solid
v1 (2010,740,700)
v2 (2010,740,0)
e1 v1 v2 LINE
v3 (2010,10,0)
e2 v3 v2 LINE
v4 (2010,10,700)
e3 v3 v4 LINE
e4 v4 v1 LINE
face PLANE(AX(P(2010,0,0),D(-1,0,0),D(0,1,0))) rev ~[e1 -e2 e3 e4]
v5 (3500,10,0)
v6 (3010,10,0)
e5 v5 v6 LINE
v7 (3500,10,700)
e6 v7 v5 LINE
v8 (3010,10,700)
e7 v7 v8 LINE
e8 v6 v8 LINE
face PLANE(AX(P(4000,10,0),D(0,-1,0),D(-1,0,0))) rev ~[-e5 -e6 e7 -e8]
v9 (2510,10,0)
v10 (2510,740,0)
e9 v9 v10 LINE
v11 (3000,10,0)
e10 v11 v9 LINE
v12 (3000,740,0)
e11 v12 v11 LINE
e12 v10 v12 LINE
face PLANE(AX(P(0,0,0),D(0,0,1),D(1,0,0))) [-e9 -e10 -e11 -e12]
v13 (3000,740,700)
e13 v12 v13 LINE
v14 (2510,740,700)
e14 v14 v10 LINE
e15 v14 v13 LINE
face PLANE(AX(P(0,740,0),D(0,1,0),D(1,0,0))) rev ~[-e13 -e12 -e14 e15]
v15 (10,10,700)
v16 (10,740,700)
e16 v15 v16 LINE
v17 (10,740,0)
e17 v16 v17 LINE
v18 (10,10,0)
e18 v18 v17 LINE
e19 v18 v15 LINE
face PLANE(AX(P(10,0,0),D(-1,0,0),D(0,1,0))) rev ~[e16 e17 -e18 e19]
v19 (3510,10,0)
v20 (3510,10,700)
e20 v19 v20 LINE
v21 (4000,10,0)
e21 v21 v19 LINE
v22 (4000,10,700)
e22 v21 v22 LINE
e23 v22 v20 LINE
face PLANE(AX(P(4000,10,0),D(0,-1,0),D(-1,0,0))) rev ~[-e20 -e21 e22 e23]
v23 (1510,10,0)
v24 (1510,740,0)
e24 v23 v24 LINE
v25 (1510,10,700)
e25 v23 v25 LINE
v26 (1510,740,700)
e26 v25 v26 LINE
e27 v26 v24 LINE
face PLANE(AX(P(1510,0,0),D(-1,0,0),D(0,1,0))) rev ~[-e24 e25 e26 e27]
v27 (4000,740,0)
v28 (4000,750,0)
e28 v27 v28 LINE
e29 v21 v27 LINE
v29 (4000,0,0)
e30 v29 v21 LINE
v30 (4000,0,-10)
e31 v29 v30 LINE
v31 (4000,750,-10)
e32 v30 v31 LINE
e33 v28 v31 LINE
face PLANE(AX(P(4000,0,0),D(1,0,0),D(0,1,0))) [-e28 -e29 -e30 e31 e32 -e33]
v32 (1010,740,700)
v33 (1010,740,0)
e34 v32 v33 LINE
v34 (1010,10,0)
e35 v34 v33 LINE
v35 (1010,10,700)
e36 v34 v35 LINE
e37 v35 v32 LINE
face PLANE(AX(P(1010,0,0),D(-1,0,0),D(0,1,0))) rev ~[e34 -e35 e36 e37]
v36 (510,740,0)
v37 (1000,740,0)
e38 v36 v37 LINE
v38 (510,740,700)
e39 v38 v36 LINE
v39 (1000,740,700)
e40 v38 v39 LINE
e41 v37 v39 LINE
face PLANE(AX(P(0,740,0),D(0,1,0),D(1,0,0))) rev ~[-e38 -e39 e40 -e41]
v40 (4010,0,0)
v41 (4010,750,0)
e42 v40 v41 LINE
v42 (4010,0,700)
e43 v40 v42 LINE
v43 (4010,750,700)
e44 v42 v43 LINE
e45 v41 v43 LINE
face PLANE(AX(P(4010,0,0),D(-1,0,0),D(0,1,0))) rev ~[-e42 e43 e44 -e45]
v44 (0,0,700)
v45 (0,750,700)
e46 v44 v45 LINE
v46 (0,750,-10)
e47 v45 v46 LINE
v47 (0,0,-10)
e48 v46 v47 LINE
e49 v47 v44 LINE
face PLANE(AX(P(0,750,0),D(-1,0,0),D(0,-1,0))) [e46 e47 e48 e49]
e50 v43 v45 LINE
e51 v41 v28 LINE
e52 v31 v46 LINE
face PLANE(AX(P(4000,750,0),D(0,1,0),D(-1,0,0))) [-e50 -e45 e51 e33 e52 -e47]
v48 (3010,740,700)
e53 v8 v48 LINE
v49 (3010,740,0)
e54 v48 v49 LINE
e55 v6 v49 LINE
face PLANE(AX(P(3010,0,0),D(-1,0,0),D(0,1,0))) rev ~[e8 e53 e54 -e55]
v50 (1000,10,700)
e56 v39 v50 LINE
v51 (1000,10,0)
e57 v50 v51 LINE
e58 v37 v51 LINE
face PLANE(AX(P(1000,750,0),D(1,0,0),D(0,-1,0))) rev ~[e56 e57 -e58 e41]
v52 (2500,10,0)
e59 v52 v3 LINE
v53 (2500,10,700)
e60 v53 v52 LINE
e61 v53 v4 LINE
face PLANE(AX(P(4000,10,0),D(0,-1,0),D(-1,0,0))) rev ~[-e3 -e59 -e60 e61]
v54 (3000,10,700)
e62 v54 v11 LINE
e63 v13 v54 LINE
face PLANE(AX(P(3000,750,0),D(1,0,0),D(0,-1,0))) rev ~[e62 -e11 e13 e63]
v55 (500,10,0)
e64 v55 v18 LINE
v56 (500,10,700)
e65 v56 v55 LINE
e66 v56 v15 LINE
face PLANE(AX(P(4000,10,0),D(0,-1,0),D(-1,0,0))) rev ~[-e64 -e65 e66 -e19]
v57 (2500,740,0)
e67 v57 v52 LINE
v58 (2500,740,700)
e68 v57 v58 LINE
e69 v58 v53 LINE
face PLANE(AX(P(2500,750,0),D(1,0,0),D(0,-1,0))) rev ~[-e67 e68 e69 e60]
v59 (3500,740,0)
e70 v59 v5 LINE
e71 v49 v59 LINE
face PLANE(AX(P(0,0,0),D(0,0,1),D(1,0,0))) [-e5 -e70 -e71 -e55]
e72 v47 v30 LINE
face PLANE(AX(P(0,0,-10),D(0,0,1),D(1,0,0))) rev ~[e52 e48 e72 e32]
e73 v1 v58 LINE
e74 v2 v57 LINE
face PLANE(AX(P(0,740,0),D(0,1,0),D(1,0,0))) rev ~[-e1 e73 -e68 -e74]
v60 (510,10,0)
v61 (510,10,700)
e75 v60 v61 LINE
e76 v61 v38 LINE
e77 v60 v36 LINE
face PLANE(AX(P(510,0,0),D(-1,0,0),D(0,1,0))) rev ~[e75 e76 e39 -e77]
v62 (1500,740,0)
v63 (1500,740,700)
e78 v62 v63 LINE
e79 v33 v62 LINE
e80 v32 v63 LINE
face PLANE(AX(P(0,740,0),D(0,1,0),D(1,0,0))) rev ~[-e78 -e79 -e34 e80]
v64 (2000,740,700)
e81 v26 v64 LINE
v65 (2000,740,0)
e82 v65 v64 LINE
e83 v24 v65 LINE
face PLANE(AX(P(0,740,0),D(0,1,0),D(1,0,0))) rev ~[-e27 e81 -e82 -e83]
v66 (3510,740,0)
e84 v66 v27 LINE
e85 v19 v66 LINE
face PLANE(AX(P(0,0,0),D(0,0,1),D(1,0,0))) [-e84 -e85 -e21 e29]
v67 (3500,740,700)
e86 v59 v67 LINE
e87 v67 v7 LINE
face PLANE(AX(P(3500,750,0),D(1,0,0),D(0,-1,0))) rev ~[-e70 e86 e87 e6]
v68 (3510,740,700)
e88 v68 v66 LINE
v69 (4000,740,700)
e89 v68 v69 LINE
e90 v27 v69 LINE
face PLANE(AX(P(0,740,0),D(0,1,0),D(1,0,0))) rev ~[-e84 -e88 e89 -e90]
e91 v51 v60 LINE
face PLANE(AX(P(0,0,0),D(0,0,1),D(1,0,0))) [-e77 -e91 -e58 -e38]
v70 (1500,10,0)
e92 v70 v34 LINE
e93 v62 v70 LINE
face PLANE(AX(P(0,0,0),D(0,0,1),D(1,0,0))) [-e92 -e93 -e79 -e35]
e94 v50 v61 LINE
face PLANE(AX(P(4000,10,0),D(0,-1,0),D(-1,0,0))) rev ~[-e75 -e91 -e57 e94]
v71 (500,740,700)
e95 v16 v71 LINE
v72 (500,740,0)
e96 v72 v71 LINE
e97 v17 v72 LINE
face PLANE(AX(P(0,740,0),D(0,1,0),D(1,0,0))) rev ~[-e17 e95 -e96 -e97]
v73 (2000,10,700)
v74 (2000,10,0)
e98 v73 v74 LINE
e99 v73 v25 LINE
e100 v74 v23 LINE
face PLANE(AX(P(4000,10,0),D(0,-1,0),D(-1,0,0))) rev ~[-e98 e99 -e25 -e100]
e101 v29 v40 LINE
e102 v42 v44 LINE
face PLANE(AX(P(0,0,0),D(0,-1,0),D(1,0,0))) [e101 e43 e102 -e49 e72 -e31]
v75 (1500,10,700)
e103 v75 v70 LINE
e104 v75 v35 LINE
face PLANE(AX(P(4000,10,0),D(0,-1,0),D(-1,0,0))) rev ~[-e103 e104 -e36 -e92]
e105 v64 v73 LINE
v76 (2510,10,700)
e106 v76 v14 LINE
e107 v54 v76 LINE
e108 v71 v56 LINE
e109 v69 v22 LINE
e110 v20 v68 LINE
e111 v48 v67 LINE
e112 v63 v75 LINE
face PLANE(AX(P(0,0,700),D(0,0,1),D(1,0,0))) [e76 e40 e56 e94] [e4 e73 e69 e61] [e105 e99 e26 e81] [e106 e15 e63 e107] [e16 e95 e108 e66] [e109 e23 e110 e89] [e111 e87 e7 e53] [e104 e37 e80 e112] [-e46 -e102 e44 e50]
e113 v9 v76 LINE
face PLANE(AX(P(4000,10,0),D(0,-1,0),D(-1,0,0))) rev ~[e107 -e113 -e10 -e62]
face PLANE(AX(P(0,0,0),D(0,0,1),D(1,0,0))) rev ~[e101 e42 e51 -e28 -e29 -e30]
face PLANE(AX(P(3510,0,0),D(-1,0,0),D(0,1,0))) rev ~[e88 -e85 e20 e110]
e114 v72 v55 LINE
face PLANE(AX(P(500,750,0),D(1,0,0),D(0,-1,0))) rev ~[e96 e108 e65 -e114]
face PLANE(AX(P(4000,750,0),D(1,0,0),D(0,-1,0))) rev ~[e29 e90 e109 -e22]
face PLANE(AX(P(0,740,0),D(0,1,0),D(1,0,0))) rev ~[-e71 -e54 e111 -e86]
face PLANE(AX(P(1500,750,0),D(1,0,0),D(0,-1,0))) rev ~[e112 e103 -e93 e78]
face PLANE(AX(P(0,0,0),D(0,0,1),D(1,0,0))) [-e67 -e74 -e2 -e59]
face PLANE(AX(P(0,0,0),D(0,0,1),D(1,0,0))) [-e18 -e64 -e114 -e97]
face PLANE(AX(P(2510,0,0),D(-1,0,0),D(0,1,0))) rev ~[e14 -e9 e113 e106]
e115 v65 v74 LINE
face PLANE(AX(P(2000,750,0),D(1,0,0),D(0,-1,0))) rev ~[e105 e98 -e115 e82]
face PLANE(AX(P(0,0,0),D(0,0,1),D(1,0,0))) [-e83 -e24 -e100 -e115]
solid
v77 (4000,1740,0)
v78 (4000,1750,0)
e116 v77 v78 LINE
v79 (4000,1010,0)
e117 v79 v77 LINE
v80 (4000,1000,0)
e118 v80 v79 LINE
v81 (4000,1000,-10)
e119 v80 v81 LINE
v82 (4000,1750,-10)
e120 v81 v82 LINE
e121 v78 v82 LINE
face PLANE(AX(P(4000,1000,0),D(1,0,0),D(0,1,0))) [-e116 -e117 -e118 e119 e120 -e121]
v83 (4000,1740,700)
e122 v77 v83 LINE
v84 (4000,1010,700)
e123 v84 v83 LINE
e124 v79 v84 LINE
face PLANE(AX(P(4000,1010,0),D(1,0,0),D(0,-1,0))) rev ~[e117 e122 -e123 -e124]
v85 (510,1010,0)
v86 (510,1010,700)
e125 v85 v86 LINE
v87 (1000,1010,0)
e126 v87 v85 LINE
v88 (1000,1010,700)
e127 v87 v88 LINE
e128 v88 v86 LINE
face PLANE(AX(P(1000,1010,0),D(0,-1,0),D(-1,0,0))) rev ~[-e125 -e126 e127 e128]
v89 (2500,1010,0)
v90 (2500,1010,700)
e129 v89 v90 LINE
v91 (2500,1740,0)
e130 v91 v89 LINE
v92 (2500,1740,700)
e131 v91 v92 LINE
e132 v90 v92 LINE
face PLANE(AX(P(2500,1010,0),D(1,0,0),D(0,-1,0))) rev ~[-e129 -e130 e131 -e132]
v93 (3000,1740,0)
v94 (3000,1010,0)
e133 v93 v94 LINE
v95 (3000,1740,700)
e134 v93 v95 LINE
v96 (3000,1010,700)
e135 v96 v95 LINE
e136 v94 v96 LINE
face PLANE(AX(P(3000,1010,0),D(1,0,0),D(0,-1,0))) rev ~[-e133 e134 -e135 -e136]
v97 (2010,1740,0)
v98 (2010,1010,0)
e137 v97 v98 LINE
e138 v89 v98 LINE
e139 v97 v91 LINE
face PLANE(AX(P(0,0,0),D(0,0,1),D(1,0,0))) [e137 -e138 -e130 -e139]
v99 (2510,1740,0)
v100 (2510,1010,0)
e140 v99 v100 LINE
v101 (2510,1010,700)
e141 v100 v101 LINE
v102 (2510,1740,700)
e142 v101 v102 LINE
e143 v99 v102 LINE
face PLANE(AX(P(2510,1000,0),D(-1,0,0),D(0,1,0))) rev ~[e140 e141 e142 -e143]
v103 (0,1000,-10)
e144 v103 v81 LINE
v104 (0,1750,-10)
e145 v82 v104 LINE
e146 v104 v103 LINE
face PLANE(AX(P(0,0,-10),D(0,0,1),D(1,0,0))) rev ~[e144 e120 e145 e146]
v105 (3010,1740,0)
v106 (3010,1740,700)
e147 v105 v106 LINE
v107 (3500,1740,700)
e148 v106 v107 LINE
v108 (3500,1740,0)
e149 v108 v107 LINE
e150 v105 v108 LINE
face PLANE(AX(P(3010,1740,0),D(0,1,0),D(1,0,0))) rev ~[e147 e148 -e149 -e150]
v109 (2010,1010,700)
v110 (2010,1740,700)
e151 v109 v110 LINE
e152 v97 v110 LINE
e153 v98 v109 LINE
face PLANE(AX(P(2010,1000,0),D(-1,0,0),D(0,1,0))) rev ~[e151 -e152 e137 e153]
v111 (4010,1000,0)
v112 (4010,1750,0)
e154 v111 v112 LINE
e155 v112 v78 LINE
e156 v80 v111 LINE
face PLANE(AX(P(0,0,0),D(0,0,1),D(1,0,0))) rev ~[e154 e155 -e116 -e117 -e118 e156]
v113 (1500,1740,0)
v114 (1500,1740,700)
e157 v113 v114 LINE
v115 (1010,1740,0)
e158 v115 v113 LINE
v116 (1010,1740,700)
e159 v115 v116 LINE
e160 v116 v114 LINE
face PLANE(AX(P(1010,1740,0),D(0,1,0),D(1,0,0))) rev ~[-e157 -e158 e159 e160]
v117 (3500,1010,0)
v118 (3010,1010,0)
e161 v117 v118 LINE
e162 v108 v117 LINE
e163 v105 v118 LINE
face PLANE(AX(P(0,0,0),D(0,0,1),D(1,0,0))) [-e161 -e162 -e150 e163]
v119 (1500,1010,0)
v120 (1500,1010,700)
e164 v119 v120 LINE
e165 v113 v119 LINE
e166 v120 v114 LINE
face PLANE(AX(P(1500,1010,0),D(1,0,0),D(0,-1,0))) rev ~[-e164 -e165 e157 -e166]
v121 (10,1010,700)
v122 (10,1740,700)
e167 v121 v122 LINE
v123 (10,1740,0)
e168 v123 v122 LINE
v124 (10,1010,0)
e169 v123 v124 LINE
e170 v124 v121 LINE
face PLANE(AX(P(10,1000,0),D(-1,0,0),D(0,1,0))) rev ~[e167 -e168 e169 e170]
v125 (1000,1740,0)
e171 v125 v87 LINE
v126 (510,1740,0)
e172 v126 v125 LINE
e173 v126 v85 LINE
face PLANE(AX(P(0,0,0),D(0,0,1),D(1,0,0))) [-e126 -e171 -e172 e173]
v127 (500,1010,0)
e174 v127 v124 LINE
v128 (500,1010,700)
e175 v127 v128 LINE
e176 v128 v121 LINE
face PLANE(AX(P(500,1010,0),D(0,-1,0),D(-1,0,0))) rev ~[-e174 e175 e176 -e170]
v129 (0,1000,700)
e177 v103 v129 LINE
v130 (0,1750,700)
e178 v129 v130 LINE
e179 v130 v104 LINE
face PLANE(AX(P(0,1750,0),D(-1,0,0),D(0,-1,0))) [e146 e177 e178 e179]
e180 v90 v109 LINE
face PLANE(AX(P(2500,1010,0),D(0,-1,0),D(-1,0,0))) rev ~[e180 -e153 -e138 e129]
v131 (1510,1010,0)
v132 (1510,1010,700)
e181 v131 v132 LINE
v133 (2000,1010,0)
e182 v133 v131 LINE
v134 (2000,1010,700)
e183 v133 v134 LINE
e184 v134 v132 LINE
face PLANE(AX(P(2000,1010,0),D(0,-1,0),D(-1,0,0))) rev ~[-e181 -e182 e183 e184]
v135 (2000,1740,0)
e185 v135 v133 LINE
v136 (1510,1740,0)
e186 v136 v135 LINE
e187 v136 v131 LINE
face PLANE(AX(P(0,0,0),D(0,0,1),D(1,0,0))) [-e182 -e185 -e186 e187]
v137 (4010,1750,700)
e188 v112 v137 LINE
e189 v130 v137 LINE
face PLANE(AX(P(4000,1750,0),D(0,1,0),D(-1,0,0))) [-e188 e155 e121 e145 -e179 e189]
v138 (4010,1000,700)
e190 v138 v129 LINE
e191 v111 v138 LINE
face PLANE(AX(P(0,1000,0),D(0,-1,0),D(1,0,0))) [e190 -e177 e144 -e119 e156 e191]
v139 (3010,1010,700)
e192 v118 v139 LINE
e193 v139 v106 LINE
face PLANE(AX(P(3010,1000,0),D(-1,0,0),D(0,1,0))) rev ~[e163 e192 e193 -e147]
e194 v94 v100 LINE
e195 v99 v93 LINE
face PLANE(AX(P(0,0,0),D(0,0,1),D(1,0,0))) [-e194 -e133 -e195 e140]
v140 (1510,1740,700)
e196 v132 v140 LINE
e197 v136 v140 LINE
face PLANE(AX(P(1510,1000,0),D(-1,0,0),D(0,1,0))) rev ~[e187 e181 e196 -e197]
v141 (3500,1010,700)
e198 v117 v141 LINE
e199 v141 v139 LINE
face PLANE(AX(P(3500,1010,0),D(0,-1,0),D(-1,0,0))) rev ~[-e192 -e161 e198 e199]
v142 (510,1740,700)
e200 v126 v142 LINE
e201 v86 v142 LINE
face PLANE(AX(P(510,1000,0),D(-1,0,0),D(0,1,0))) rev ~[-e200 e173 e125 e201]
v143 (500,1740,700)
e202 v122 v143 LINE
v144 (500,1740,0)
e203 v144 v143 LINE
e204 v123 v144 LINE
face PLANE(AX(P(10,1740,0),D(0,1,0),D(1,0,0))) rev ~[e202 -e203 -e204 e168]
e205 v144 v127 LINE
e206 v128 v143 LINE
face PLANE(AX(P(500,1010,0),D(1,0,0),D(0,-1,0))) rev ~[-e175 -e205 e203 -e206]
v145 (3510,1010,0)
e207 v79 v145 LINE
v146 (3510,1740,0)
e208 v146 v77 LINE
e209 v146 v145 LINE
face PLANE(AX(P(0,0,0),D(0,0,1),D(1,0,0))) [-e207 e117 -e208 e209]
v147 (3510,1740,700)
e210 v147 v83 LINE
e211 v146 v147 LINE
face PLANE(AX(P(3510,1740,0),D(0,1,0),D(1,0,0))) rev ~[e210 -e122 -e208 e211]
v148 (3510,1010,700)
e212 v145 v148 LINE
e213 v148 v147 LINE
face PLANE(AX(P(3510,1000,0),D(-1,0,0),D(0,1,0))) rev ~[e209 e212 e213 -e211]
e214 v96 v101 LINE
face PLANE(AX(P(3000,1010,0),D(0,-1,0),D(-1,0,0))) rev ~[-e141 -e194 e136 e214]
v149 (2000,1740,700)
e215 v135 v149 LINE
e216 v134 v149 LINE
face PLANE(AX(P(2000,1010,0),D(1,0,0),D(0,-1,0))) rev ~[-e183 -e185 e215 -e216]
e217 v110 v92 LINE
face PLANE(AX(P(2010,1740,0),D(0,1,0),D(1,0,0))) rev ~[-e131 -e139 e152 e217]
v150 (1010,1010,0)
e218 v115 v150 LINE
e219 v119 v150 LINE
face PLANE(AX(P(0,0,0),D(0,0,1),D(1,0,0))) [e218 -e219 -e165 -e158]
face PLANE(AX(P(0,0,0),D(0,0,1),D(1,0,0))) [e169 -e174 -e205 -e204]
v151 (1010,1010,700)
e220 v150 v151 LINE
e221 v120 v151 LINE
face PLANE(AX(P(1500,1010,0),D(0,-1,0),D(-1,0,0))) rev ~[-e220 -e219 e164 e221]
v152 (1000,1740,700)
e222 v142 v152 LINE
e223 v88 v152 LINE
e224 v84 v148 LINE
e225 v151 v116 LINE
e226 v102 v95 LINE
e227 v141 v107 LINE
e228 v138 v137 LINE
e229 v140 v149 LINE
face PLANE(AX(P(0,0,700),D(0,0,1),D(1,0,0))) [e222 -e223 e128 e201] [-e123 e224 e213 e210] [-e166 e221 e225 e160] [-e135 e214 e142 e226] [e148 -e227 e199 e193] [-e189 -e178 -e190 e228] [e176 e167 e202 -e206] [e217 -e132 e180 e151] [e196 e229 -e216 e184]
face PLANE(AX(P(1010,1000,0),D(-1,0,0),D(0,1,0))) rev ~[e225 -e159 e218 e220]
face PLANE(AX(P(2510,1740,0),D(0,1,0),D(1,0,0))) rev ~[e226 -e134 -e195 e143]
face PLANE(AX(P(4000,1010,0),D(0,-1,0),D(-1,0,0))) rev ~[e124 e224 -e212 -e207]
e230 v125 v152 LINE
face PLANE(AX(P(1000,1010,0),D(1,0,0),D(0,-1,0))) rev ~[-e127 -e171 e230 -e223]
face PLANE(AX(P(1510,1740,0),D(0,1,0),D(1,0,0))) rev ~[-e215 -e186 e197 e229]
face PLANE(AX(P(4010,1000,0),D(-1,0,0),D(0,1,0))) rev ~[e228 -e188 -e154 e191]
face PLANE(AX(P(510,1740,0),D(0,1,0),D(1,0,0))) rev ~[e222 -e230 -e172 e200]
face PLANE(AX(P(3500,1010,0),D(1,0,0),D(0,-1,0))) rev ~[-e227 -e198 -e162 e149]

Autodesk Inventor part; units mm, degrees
ref_plane "YZ Plane" through (0, 0, 0) normal (1, 0, 0) x (0, 1, 0)
ref_plane "XZ Plane" through (0, 0, 0) normal (0, 1, 0) x (-1, 0, 0)
ref_plane "XY Plane" through (0, 0, 0) normal (0, 0, 1) x (1, 0, 0)
sketch "Boceto1" plane through (0, 0, 0) normal (0, 0, 1) x (1, 0, 0)
  line L0 (0, 0) -> (4000, 0)
  line L1 (4000, 0) -> (4000, 750)
  line L2 (4000, 750) -> (0, 750)
  line L3 (0, 750) -> (0, 0)
extrude "Extrusión1" add sketch "Boceto1" against normal blind 10
sketch "Boceto2" plane through (0, 0, 0) normal (0, 0, 1) x (1, 0, 0)
  line L0 (0, 0) -> (10, 0)
  line L1 (10, 0) -> (10, 750)
  line L2 (10, 750) -> (0, 750)
  line L3 (0, 750) -> (0, 0)
  line L4 (500, 0) -> (510, 0)
  line L5 (510, 0) -> (510, 750)
  line L6 (510, 750) -> (500, 750)
  line L7 (500, 750) -> (500, 0)
  line L8 (1000, 0) -> (1010, 0)
  line L9 (1010, 0) -> (1010, 750)
  line L10 (1010, 750) -> (1000, 750)
  line L11 (1000, 750) -> (1000, 0)
  line L12 (1500, 0) -> (1510, 0)
  line L13 (1510, 0) -> (1510, 750)
  line L14 (1510, 750) -> (1500, 750)
  line L15 (1500, 750) -> (1500, 0)
  line L16 (2000, 0) -> (2010, 0)
  line L17 (2010, 0) -> (2010, 750)
  line L18 (2010, 750) -> (2000, 750)
  line L19 (2000, 750) -> (2000, 0)
  line L20 (2500, 0) -> (2510, 0)
  line L21 (2510, 0) -> (2510, 750)
  line L22 (2510, 750) -> (2500, 750)
  line L23 (2500, 750) -> (2500, 0)
  line L24 (3000, 0) -> (3010, 0)
  line L25 (3010, 0) -> (3010, 750)
  line L26 (3010, 750) -> (3000, 750)
  line L27 (3000, 750) -> (3000, 0)
  line L28 (3500, 0) -> (3510, 0)
  line L29 (3510, 0) -> (3510, 750)
  line L30 (3510, 750) -> (3500, 750)
  line L31 (3500, 750) -> (3500, 0)
  line L32 (4000, 0) -> (4010, 0)
  line L33 (4010, 0) -> (4010, 750)
  line L34 (4010, 750) -> (4000, 750)
  line L35 (4000, 750) -> (4000, 0)
extrude "Extrusión2" add sketch "Boceto2" along normal blind 700 contours L3 L2 L1 L0
extrude "Extrusión3" add sketch "Boceto2" along normal blind 700 contours L3 L2 L1 L0 | L7 L6 L5 L4
extrude "Extrusión4" add sketch "Boceto2" along normal blind 700 contours L3 L2 L1 L0 | L7 L6 L5 L4 | L11 L10 L9 L8
extrude "Extrusión5" add sketch "Boceto2" along normal blind 700 contours L3 L2 L1 L0 | L7 L6 L5 L4 | L11 L10 L9 L8 | L15 L14 L13 L12
extrude "Extrusión6" add sketch "Boceto2" along normal blind 700 contours L3 L2 L1 L0 | L7 L6 L5 L4 | L11 L10 L9 L8 | L15 L14 L13 L12 | L19 L18 L17 L16
extrude "Extrusión7" add sketch "Boceto2" along normal blind 700 contours L3 L2 L1 L0 | L7 L6 L5 L4 | L11 L10 L9 L8 | L15 L14 L13 L12 | L19 L18 L17 L16 | L23 L22 L21 L20
extrude "Extrusión8" add sketch "Boceto2" along normal blind 700 contours L3 L2 L1 L0 | L7 L6 L5 L4 | L11 L10 L9 L8 | L15 L14 L13 L12 | L19 L18 L17 L16 | L23 L22 L21 L20 | L27 L26 L25 L24
extrude "Extrusión9" add sketch "Boceto2" along normal blind 700 contours L3 L2 L1 L0 | L7 L6 L5 L4 | L11 L10 L9 L8 | L15 L14 L13 L12 | L19 L18 L17 L16 | L23 L22 L21 L20 | L27 L26 L25 L24 | L31 L30 L29 L28
extrude "Extrusión10" add sketch "Boceto2" along normal blind 700
sketch "Boceto3" plane through (0, 0, 0) normal (0, 0, 1) x (1, 0, 0)
  line L0 (0, 0) -> (4000, 0)
  line L1 (4000, 0) -> (4000, 10)
  line L2 (4000, 10) -> (0, 10)
  line L3 (0, 10) -> (0, 0)
  line L4 (0, 740) -> (4000, 740)
  line L5 (4000, 740) -> (4000, 750)
  line L6 (4000, 750) -> (0, 750)
  line L7 (0, 750) -> (0, 740)
extrude "Extrusión11" add sketch "Boceto3" along normal blind 700 contours L3 L2 L1 L0
extrude "Extrusión12" add sketch "Boceto3" along normal blind 700
sketch "Boceto4" plane through (0, 0, 0) normal (0, 0, 1) x (1, 0, 0)
  line L0 (0, 1000) -> (4000, 1000)
  line L1 (4000, 1000) -> (4000, 1750)
  line L2 (4000, 1750) -> (0, 1750)
  line L3 (0, 1750) -> (0, 1000)
extrude "Extrusión13" add sketch "Boceto4" against normal blind 10
sketch "Boceto5" plane through (0, 0, 0) normal (0, 0, 1) x (1, 0, 0)
  line L0 (0, 1000) -> (10, 1000)
  line L1 (10, 1000) -> (10, 1750)
  line L2 (10, 1750) -> (0, 1750)
  line L3 (0, 1750) -> (0, 1000)
  line L4 (500, 1000) -> (510, 1000)
  line L5 (510, 1000) -> (510, 1750)
  line L6 (510, 1750) -> (500, 1750)
  line L7 (500, 1750) -> (500, 1000)
  line L8 (1000, 1000) -> (1010, 1000)
  line L9 (1010, 1000) -> (1010, 1750)
  line L10 (1010, 1750) -> (1000, 1750)
  line L11 (1000, 1750) -> (1000, 1000)
  line L12 (1500, 1000) -> (1510, 1000)
  line L13 (1510, 1000) -> (1510, 1750)
  line L14 (1510, 1750) -> (1500, 1750)
  line L15 (1500, 1750) -> (1500, 1000)
  line L16 (2000, 1000) -> (2010, 1000)
  line L17 (2010, 1000) -> (2010, 1750)
  line L18 (2010, 1750) -> (2000, 1750)
  line L19 (2000, 1750) -> (2000, 1000)
  line L20 (2500, 1000) -> (2510, 1000)
  line L21 (2510, 1000) -> (2510, 1750)
  line L22 (2510, 1750) -> (2500, 1750)
  line L23 (2500, 1750) -> (2500, 1000)
  line L24 (3000, 1000) -> (3010, 1000)
  line L25 (3010, 1000) -> (3010, 1750)
  line L26 (3010, 1750) -> (3000, 1750)
  line L27 (3000, 1750) -> (3000, 1000)
  line L28 (3500, 1000) -> (3510, 1000)
  line L29 (3510, 1000) -> (3510, 1750)
  line L30 (3510, 1750) -> (3500, 1750)
  line L31 (3500, 1750) -> (3500, 1000)
  line L32 (4000, 1000) -> (4010, 1000)
  line L33 (4010, 1000) -> (4010, 1750)
  line L34 (4010, 1750) -> (4000, 1750)
  line L35 (4000, 1750) -> (4000, 1000)
  line L36 (0, 1000) -> (4000, 1000)
  line L37 (4000, 1000) -> (4000, 1010)
  line L38 (4000, 1010) -> (0, 1010)
  line L39 (0, 1010) -> (0, 1000)
  line L40 (0, 1740) -> (4000, 1740)
  line L41 (4000, 1740) -> (4000, 1750)
  line L42 (4000, 1750) -> (0, 1750)
  line L43 (0, 1750) -> (0, 1740)
extrude "Extrusión14" add sketch "Boceto5" along normal blind 700 contours L3 L38 L1 L0 | L3 L40 L1 L38 | L3 L2 L1 L40
extrude "Extrusión15" add sketch "Boceto5" along normal blind 700 contours L3 L38 L1 L0 | L3 L40 L1 L38 | L7 L38 L5 L4 | L3 L2 L1 L40 | L7 L40 L5 L38 | L7 L6 L5 L40
extrude "Extrusión16" add sketch "Boceto5" along normal blind 700 contours L3 L38 L1 L0 | L3 L40 L1 L38 | L7 L38 L5 L4 | L3 L2 L1 L40 | L7 L40 L5 L38 | L7 L6 L5 L40 | L11 L38 L9 L8 | L11 L40 L9 L38 | L11 L10 L9 L40
extrude "Extrusión17" add sketch "Boceto5" along normal blind 700 contours L3 L38 L1 L0 | L3 L40 L1 L38 | L7 L38 L5 L4 | L3 L2 L1 L40 | L7 L40 L5 L38 | L7 L6 L5 L40 | L11 L38 L9 L8 | L11 L40 L9 L38 | L11 L10 L9 L40 | L15 L38 L13 L12 | L15 L40 L13 L38 | L15 L14 L13 L40
extrude "Extrusión18" add sketch "Boceto5" along normal blind 700 contours L3 L38 L1 L0 | L3 L40 L1 L38 | L7 L38 L5 L4 | L3 L2 L1 L40 | L7 L40 L5 L38 | L7 L6 L5 L40 | L11 L38 L9 L8 | L11 L40 L9 L38 | L11 L10 L9 L40 | L15 L38 L13 L12 | L15 L40 L13 L38 | L15 L14 L13 L40 | L19 L38 L17 L16 | L19 L40 L17 L38 | L19 L18 L17 L40
extrude "Extrusión19" add sketch "Boceto5" along normal blind 700 contours L3 L38 L1 L0 | L3 L40 L1 L38 | L7 L38 L5 L4 | L3 L2 L1 L40 | L7 L40 L5 L38 | L7 L6 L5 L40 | L11 L38 L9 L8 | L11 L40 L9 L38 | L11 L10 L9 L40 | L15 L38 L13 L12 | L15 L40 L13 L38 | L15 L14 L13 L40 | L19 L38 L17 L16 | L19 L40 L17 L38 | L19 L18 L17 L40 | L23 L38 L21 L20 | L23 L40 L21 L38 | L23 L22 L21 L40
extrude "Extrusión20" add sketch "Boceto5" along normal blind 700 contours L3 L38 L1 L0 | L3 L40 L1 L38 | L7 L38 L5 L4 | L3 L2 L1 L40 | L7 L40 L5 L38 | L7 L6 L5 L40 | L11 L38 L9 L8 | L11 L40 L9 L38 | L11 L10 L9 L40 | L15 L38 L13 L12 | L15 L40 L13 L38 | L15 L14 L13 L40 | L19 L38 L17 L16 | L19 L40 L17 L38 | L19 L18 L17 L40 | L23 L38 L21 L20 | L23 L40 L21 L38 | L23 L22 L21 L40 | L27 L38 L25 L24 | L27 L40 L25 L38 | L27 L26 L25 L40
extrude "Extrusión21" add sketch "Boceto5" along normal blind 700 contours L3 L38 L1 L0 | L3 L40 L1 L38 | L7 L38 L5 L4 | L3 L2 L1 L40 | L7 L40 L5 L38 | L7 L6 L5 L40 | L11 L38 L9 L8 | L11 L40 L9 L38 | L11 L10 L9 L40 | L15 L38 L13 L12 | L15 L40 L13 L38 | L15 L14 L13 L40 | L19 L38 L17 L16 | L19 L40 L17 L38 | L19 L18 L17 L40 | L23 L38 L21 L20 | L23 L40 L21 L38 | L23 L22 L21 L40 | L27 L38 L25 L24 | L27 L40 L25 L38 | L27 L26 L25 L40 | L31 L38 L29 L28 | L31 L40 L29 L38 | L31 L30 L29 L40
extrude "Extrusión22" add sketch "Boceto5" along normal blind 700 contours L3 L38 L1 L0 | L3 L40 L1 L38 | L7 L38 L5 L4 | L3 L2 L1 L40 | L7 L40 L5 L38 | L7 L6 L5 L40 | L11 L38 L9 L8 | L11 L40 L9 L38 | L11 L10 L9 L40 | L15 L38 L13 L12 | L15 L40 L13 L38 | L15 L14 L13 L40 | L19 L38 L17 L16 | L19 L40 L17 L38 | L19 L18 L17 L40 | L23 L38 L21 L20 | L23 L40 L21 L38 | L23 L22 L21 L40 | L27 L38 L25 L24 | L27 L40 L25 L38 | L27 L26 L25 L40 | L31 L38 L29 L28 | L31 L40 L29 L38 | L31 L30 L29 L40 | L35 L34 L33 L32
extrude "Extrusión23" add sketch "Boceto5" along normal blind 700 contours L3 L38 L1 L0 | L1 L38 L7 L36 | L3 L40 L1 L38 | L7 L38 L5 L4 | L3 L2 L1 L40 | L7 L40 L5 L38 | L5 L38 L11 L36 | L7 L6 L5 L40 | L11 L38 L9 L8 | L11 L40 L9 L38 | L9 L38 L15 L36 | L11 L10 L9 L40 | L15 L38 L13 L12 | L15 L40 L13 L38 | L13 L38 L19 L36 | L15 L14 L13 L40 | L19 L38 L17 L16 | L19 L40 L17 L38 | L17 L38 L23 L36 | L19 L18 L17 L40 | L23 L38 L21 L20 | L23 L40 L21 L38 | L21 L38 L27 L36 | L23 L22 L21 L40 | L27 L38 L25 L24 | L27 L40 L25 L38 | L25 L38 L31 L36 | L27 L26 L25 L40 | L31 L38 L29 L28 | L31 L40 L29 L38 | L29 L38 L35 L36 | L31 L30 L29 L40 | L35 L34 L33 L32
extrude "Extrusión24" add sketch "Boceto5" along normal blind 700 contours L3 L38 L1 L0 | L1 L38 L7 L36 | L3 L40 L1 L38 | L7 L38 L5 L4 | L3 L2 L1 L40 | L1 L42 L7 L40 | L7 L40 L5 L38 | L5 L38 L11 L36 | L7 L6 L5 L40 | L11 L38 L9 L8 | L5 L42 L11 L40 | L11 L40 L9 L38 | L9 L38 L15 L36 | L11 L10 L9 L40 | L15 L38 L13 L12 | L9 L42 L15 L40 | L15 L40 L13 L38 | L13 L38 L19 L36 | L15 L14 L13 L40 | L19 L38 L17 L16 | L13 L42 L19 L40 | L19 L40 L17 L38 | L17 L38 L23 L36 | L19 L18 L17 L40 | L23 L38 L21 L20 | L17 L42 L23 L40 | L23 L40 L21 L38 | L21 L38 L27 L36 | L23 L22 L21 L40 | L27 L38 L25 L24 | L21 L42 L27 L40 | L27 L40 L25 L38 | L25 L38 L31 L36 | L27 L26 L25 L40 | L31 L38 L29 L28 | L25 L42 L31 L40 | L31 L40 L29 L38 | L29 L38 L35 L36 | L31 L30 L29 L40 | L35 L34 L33 L32 | L29 L42 L35 L40
properties part number "mesa" material "Acero"
